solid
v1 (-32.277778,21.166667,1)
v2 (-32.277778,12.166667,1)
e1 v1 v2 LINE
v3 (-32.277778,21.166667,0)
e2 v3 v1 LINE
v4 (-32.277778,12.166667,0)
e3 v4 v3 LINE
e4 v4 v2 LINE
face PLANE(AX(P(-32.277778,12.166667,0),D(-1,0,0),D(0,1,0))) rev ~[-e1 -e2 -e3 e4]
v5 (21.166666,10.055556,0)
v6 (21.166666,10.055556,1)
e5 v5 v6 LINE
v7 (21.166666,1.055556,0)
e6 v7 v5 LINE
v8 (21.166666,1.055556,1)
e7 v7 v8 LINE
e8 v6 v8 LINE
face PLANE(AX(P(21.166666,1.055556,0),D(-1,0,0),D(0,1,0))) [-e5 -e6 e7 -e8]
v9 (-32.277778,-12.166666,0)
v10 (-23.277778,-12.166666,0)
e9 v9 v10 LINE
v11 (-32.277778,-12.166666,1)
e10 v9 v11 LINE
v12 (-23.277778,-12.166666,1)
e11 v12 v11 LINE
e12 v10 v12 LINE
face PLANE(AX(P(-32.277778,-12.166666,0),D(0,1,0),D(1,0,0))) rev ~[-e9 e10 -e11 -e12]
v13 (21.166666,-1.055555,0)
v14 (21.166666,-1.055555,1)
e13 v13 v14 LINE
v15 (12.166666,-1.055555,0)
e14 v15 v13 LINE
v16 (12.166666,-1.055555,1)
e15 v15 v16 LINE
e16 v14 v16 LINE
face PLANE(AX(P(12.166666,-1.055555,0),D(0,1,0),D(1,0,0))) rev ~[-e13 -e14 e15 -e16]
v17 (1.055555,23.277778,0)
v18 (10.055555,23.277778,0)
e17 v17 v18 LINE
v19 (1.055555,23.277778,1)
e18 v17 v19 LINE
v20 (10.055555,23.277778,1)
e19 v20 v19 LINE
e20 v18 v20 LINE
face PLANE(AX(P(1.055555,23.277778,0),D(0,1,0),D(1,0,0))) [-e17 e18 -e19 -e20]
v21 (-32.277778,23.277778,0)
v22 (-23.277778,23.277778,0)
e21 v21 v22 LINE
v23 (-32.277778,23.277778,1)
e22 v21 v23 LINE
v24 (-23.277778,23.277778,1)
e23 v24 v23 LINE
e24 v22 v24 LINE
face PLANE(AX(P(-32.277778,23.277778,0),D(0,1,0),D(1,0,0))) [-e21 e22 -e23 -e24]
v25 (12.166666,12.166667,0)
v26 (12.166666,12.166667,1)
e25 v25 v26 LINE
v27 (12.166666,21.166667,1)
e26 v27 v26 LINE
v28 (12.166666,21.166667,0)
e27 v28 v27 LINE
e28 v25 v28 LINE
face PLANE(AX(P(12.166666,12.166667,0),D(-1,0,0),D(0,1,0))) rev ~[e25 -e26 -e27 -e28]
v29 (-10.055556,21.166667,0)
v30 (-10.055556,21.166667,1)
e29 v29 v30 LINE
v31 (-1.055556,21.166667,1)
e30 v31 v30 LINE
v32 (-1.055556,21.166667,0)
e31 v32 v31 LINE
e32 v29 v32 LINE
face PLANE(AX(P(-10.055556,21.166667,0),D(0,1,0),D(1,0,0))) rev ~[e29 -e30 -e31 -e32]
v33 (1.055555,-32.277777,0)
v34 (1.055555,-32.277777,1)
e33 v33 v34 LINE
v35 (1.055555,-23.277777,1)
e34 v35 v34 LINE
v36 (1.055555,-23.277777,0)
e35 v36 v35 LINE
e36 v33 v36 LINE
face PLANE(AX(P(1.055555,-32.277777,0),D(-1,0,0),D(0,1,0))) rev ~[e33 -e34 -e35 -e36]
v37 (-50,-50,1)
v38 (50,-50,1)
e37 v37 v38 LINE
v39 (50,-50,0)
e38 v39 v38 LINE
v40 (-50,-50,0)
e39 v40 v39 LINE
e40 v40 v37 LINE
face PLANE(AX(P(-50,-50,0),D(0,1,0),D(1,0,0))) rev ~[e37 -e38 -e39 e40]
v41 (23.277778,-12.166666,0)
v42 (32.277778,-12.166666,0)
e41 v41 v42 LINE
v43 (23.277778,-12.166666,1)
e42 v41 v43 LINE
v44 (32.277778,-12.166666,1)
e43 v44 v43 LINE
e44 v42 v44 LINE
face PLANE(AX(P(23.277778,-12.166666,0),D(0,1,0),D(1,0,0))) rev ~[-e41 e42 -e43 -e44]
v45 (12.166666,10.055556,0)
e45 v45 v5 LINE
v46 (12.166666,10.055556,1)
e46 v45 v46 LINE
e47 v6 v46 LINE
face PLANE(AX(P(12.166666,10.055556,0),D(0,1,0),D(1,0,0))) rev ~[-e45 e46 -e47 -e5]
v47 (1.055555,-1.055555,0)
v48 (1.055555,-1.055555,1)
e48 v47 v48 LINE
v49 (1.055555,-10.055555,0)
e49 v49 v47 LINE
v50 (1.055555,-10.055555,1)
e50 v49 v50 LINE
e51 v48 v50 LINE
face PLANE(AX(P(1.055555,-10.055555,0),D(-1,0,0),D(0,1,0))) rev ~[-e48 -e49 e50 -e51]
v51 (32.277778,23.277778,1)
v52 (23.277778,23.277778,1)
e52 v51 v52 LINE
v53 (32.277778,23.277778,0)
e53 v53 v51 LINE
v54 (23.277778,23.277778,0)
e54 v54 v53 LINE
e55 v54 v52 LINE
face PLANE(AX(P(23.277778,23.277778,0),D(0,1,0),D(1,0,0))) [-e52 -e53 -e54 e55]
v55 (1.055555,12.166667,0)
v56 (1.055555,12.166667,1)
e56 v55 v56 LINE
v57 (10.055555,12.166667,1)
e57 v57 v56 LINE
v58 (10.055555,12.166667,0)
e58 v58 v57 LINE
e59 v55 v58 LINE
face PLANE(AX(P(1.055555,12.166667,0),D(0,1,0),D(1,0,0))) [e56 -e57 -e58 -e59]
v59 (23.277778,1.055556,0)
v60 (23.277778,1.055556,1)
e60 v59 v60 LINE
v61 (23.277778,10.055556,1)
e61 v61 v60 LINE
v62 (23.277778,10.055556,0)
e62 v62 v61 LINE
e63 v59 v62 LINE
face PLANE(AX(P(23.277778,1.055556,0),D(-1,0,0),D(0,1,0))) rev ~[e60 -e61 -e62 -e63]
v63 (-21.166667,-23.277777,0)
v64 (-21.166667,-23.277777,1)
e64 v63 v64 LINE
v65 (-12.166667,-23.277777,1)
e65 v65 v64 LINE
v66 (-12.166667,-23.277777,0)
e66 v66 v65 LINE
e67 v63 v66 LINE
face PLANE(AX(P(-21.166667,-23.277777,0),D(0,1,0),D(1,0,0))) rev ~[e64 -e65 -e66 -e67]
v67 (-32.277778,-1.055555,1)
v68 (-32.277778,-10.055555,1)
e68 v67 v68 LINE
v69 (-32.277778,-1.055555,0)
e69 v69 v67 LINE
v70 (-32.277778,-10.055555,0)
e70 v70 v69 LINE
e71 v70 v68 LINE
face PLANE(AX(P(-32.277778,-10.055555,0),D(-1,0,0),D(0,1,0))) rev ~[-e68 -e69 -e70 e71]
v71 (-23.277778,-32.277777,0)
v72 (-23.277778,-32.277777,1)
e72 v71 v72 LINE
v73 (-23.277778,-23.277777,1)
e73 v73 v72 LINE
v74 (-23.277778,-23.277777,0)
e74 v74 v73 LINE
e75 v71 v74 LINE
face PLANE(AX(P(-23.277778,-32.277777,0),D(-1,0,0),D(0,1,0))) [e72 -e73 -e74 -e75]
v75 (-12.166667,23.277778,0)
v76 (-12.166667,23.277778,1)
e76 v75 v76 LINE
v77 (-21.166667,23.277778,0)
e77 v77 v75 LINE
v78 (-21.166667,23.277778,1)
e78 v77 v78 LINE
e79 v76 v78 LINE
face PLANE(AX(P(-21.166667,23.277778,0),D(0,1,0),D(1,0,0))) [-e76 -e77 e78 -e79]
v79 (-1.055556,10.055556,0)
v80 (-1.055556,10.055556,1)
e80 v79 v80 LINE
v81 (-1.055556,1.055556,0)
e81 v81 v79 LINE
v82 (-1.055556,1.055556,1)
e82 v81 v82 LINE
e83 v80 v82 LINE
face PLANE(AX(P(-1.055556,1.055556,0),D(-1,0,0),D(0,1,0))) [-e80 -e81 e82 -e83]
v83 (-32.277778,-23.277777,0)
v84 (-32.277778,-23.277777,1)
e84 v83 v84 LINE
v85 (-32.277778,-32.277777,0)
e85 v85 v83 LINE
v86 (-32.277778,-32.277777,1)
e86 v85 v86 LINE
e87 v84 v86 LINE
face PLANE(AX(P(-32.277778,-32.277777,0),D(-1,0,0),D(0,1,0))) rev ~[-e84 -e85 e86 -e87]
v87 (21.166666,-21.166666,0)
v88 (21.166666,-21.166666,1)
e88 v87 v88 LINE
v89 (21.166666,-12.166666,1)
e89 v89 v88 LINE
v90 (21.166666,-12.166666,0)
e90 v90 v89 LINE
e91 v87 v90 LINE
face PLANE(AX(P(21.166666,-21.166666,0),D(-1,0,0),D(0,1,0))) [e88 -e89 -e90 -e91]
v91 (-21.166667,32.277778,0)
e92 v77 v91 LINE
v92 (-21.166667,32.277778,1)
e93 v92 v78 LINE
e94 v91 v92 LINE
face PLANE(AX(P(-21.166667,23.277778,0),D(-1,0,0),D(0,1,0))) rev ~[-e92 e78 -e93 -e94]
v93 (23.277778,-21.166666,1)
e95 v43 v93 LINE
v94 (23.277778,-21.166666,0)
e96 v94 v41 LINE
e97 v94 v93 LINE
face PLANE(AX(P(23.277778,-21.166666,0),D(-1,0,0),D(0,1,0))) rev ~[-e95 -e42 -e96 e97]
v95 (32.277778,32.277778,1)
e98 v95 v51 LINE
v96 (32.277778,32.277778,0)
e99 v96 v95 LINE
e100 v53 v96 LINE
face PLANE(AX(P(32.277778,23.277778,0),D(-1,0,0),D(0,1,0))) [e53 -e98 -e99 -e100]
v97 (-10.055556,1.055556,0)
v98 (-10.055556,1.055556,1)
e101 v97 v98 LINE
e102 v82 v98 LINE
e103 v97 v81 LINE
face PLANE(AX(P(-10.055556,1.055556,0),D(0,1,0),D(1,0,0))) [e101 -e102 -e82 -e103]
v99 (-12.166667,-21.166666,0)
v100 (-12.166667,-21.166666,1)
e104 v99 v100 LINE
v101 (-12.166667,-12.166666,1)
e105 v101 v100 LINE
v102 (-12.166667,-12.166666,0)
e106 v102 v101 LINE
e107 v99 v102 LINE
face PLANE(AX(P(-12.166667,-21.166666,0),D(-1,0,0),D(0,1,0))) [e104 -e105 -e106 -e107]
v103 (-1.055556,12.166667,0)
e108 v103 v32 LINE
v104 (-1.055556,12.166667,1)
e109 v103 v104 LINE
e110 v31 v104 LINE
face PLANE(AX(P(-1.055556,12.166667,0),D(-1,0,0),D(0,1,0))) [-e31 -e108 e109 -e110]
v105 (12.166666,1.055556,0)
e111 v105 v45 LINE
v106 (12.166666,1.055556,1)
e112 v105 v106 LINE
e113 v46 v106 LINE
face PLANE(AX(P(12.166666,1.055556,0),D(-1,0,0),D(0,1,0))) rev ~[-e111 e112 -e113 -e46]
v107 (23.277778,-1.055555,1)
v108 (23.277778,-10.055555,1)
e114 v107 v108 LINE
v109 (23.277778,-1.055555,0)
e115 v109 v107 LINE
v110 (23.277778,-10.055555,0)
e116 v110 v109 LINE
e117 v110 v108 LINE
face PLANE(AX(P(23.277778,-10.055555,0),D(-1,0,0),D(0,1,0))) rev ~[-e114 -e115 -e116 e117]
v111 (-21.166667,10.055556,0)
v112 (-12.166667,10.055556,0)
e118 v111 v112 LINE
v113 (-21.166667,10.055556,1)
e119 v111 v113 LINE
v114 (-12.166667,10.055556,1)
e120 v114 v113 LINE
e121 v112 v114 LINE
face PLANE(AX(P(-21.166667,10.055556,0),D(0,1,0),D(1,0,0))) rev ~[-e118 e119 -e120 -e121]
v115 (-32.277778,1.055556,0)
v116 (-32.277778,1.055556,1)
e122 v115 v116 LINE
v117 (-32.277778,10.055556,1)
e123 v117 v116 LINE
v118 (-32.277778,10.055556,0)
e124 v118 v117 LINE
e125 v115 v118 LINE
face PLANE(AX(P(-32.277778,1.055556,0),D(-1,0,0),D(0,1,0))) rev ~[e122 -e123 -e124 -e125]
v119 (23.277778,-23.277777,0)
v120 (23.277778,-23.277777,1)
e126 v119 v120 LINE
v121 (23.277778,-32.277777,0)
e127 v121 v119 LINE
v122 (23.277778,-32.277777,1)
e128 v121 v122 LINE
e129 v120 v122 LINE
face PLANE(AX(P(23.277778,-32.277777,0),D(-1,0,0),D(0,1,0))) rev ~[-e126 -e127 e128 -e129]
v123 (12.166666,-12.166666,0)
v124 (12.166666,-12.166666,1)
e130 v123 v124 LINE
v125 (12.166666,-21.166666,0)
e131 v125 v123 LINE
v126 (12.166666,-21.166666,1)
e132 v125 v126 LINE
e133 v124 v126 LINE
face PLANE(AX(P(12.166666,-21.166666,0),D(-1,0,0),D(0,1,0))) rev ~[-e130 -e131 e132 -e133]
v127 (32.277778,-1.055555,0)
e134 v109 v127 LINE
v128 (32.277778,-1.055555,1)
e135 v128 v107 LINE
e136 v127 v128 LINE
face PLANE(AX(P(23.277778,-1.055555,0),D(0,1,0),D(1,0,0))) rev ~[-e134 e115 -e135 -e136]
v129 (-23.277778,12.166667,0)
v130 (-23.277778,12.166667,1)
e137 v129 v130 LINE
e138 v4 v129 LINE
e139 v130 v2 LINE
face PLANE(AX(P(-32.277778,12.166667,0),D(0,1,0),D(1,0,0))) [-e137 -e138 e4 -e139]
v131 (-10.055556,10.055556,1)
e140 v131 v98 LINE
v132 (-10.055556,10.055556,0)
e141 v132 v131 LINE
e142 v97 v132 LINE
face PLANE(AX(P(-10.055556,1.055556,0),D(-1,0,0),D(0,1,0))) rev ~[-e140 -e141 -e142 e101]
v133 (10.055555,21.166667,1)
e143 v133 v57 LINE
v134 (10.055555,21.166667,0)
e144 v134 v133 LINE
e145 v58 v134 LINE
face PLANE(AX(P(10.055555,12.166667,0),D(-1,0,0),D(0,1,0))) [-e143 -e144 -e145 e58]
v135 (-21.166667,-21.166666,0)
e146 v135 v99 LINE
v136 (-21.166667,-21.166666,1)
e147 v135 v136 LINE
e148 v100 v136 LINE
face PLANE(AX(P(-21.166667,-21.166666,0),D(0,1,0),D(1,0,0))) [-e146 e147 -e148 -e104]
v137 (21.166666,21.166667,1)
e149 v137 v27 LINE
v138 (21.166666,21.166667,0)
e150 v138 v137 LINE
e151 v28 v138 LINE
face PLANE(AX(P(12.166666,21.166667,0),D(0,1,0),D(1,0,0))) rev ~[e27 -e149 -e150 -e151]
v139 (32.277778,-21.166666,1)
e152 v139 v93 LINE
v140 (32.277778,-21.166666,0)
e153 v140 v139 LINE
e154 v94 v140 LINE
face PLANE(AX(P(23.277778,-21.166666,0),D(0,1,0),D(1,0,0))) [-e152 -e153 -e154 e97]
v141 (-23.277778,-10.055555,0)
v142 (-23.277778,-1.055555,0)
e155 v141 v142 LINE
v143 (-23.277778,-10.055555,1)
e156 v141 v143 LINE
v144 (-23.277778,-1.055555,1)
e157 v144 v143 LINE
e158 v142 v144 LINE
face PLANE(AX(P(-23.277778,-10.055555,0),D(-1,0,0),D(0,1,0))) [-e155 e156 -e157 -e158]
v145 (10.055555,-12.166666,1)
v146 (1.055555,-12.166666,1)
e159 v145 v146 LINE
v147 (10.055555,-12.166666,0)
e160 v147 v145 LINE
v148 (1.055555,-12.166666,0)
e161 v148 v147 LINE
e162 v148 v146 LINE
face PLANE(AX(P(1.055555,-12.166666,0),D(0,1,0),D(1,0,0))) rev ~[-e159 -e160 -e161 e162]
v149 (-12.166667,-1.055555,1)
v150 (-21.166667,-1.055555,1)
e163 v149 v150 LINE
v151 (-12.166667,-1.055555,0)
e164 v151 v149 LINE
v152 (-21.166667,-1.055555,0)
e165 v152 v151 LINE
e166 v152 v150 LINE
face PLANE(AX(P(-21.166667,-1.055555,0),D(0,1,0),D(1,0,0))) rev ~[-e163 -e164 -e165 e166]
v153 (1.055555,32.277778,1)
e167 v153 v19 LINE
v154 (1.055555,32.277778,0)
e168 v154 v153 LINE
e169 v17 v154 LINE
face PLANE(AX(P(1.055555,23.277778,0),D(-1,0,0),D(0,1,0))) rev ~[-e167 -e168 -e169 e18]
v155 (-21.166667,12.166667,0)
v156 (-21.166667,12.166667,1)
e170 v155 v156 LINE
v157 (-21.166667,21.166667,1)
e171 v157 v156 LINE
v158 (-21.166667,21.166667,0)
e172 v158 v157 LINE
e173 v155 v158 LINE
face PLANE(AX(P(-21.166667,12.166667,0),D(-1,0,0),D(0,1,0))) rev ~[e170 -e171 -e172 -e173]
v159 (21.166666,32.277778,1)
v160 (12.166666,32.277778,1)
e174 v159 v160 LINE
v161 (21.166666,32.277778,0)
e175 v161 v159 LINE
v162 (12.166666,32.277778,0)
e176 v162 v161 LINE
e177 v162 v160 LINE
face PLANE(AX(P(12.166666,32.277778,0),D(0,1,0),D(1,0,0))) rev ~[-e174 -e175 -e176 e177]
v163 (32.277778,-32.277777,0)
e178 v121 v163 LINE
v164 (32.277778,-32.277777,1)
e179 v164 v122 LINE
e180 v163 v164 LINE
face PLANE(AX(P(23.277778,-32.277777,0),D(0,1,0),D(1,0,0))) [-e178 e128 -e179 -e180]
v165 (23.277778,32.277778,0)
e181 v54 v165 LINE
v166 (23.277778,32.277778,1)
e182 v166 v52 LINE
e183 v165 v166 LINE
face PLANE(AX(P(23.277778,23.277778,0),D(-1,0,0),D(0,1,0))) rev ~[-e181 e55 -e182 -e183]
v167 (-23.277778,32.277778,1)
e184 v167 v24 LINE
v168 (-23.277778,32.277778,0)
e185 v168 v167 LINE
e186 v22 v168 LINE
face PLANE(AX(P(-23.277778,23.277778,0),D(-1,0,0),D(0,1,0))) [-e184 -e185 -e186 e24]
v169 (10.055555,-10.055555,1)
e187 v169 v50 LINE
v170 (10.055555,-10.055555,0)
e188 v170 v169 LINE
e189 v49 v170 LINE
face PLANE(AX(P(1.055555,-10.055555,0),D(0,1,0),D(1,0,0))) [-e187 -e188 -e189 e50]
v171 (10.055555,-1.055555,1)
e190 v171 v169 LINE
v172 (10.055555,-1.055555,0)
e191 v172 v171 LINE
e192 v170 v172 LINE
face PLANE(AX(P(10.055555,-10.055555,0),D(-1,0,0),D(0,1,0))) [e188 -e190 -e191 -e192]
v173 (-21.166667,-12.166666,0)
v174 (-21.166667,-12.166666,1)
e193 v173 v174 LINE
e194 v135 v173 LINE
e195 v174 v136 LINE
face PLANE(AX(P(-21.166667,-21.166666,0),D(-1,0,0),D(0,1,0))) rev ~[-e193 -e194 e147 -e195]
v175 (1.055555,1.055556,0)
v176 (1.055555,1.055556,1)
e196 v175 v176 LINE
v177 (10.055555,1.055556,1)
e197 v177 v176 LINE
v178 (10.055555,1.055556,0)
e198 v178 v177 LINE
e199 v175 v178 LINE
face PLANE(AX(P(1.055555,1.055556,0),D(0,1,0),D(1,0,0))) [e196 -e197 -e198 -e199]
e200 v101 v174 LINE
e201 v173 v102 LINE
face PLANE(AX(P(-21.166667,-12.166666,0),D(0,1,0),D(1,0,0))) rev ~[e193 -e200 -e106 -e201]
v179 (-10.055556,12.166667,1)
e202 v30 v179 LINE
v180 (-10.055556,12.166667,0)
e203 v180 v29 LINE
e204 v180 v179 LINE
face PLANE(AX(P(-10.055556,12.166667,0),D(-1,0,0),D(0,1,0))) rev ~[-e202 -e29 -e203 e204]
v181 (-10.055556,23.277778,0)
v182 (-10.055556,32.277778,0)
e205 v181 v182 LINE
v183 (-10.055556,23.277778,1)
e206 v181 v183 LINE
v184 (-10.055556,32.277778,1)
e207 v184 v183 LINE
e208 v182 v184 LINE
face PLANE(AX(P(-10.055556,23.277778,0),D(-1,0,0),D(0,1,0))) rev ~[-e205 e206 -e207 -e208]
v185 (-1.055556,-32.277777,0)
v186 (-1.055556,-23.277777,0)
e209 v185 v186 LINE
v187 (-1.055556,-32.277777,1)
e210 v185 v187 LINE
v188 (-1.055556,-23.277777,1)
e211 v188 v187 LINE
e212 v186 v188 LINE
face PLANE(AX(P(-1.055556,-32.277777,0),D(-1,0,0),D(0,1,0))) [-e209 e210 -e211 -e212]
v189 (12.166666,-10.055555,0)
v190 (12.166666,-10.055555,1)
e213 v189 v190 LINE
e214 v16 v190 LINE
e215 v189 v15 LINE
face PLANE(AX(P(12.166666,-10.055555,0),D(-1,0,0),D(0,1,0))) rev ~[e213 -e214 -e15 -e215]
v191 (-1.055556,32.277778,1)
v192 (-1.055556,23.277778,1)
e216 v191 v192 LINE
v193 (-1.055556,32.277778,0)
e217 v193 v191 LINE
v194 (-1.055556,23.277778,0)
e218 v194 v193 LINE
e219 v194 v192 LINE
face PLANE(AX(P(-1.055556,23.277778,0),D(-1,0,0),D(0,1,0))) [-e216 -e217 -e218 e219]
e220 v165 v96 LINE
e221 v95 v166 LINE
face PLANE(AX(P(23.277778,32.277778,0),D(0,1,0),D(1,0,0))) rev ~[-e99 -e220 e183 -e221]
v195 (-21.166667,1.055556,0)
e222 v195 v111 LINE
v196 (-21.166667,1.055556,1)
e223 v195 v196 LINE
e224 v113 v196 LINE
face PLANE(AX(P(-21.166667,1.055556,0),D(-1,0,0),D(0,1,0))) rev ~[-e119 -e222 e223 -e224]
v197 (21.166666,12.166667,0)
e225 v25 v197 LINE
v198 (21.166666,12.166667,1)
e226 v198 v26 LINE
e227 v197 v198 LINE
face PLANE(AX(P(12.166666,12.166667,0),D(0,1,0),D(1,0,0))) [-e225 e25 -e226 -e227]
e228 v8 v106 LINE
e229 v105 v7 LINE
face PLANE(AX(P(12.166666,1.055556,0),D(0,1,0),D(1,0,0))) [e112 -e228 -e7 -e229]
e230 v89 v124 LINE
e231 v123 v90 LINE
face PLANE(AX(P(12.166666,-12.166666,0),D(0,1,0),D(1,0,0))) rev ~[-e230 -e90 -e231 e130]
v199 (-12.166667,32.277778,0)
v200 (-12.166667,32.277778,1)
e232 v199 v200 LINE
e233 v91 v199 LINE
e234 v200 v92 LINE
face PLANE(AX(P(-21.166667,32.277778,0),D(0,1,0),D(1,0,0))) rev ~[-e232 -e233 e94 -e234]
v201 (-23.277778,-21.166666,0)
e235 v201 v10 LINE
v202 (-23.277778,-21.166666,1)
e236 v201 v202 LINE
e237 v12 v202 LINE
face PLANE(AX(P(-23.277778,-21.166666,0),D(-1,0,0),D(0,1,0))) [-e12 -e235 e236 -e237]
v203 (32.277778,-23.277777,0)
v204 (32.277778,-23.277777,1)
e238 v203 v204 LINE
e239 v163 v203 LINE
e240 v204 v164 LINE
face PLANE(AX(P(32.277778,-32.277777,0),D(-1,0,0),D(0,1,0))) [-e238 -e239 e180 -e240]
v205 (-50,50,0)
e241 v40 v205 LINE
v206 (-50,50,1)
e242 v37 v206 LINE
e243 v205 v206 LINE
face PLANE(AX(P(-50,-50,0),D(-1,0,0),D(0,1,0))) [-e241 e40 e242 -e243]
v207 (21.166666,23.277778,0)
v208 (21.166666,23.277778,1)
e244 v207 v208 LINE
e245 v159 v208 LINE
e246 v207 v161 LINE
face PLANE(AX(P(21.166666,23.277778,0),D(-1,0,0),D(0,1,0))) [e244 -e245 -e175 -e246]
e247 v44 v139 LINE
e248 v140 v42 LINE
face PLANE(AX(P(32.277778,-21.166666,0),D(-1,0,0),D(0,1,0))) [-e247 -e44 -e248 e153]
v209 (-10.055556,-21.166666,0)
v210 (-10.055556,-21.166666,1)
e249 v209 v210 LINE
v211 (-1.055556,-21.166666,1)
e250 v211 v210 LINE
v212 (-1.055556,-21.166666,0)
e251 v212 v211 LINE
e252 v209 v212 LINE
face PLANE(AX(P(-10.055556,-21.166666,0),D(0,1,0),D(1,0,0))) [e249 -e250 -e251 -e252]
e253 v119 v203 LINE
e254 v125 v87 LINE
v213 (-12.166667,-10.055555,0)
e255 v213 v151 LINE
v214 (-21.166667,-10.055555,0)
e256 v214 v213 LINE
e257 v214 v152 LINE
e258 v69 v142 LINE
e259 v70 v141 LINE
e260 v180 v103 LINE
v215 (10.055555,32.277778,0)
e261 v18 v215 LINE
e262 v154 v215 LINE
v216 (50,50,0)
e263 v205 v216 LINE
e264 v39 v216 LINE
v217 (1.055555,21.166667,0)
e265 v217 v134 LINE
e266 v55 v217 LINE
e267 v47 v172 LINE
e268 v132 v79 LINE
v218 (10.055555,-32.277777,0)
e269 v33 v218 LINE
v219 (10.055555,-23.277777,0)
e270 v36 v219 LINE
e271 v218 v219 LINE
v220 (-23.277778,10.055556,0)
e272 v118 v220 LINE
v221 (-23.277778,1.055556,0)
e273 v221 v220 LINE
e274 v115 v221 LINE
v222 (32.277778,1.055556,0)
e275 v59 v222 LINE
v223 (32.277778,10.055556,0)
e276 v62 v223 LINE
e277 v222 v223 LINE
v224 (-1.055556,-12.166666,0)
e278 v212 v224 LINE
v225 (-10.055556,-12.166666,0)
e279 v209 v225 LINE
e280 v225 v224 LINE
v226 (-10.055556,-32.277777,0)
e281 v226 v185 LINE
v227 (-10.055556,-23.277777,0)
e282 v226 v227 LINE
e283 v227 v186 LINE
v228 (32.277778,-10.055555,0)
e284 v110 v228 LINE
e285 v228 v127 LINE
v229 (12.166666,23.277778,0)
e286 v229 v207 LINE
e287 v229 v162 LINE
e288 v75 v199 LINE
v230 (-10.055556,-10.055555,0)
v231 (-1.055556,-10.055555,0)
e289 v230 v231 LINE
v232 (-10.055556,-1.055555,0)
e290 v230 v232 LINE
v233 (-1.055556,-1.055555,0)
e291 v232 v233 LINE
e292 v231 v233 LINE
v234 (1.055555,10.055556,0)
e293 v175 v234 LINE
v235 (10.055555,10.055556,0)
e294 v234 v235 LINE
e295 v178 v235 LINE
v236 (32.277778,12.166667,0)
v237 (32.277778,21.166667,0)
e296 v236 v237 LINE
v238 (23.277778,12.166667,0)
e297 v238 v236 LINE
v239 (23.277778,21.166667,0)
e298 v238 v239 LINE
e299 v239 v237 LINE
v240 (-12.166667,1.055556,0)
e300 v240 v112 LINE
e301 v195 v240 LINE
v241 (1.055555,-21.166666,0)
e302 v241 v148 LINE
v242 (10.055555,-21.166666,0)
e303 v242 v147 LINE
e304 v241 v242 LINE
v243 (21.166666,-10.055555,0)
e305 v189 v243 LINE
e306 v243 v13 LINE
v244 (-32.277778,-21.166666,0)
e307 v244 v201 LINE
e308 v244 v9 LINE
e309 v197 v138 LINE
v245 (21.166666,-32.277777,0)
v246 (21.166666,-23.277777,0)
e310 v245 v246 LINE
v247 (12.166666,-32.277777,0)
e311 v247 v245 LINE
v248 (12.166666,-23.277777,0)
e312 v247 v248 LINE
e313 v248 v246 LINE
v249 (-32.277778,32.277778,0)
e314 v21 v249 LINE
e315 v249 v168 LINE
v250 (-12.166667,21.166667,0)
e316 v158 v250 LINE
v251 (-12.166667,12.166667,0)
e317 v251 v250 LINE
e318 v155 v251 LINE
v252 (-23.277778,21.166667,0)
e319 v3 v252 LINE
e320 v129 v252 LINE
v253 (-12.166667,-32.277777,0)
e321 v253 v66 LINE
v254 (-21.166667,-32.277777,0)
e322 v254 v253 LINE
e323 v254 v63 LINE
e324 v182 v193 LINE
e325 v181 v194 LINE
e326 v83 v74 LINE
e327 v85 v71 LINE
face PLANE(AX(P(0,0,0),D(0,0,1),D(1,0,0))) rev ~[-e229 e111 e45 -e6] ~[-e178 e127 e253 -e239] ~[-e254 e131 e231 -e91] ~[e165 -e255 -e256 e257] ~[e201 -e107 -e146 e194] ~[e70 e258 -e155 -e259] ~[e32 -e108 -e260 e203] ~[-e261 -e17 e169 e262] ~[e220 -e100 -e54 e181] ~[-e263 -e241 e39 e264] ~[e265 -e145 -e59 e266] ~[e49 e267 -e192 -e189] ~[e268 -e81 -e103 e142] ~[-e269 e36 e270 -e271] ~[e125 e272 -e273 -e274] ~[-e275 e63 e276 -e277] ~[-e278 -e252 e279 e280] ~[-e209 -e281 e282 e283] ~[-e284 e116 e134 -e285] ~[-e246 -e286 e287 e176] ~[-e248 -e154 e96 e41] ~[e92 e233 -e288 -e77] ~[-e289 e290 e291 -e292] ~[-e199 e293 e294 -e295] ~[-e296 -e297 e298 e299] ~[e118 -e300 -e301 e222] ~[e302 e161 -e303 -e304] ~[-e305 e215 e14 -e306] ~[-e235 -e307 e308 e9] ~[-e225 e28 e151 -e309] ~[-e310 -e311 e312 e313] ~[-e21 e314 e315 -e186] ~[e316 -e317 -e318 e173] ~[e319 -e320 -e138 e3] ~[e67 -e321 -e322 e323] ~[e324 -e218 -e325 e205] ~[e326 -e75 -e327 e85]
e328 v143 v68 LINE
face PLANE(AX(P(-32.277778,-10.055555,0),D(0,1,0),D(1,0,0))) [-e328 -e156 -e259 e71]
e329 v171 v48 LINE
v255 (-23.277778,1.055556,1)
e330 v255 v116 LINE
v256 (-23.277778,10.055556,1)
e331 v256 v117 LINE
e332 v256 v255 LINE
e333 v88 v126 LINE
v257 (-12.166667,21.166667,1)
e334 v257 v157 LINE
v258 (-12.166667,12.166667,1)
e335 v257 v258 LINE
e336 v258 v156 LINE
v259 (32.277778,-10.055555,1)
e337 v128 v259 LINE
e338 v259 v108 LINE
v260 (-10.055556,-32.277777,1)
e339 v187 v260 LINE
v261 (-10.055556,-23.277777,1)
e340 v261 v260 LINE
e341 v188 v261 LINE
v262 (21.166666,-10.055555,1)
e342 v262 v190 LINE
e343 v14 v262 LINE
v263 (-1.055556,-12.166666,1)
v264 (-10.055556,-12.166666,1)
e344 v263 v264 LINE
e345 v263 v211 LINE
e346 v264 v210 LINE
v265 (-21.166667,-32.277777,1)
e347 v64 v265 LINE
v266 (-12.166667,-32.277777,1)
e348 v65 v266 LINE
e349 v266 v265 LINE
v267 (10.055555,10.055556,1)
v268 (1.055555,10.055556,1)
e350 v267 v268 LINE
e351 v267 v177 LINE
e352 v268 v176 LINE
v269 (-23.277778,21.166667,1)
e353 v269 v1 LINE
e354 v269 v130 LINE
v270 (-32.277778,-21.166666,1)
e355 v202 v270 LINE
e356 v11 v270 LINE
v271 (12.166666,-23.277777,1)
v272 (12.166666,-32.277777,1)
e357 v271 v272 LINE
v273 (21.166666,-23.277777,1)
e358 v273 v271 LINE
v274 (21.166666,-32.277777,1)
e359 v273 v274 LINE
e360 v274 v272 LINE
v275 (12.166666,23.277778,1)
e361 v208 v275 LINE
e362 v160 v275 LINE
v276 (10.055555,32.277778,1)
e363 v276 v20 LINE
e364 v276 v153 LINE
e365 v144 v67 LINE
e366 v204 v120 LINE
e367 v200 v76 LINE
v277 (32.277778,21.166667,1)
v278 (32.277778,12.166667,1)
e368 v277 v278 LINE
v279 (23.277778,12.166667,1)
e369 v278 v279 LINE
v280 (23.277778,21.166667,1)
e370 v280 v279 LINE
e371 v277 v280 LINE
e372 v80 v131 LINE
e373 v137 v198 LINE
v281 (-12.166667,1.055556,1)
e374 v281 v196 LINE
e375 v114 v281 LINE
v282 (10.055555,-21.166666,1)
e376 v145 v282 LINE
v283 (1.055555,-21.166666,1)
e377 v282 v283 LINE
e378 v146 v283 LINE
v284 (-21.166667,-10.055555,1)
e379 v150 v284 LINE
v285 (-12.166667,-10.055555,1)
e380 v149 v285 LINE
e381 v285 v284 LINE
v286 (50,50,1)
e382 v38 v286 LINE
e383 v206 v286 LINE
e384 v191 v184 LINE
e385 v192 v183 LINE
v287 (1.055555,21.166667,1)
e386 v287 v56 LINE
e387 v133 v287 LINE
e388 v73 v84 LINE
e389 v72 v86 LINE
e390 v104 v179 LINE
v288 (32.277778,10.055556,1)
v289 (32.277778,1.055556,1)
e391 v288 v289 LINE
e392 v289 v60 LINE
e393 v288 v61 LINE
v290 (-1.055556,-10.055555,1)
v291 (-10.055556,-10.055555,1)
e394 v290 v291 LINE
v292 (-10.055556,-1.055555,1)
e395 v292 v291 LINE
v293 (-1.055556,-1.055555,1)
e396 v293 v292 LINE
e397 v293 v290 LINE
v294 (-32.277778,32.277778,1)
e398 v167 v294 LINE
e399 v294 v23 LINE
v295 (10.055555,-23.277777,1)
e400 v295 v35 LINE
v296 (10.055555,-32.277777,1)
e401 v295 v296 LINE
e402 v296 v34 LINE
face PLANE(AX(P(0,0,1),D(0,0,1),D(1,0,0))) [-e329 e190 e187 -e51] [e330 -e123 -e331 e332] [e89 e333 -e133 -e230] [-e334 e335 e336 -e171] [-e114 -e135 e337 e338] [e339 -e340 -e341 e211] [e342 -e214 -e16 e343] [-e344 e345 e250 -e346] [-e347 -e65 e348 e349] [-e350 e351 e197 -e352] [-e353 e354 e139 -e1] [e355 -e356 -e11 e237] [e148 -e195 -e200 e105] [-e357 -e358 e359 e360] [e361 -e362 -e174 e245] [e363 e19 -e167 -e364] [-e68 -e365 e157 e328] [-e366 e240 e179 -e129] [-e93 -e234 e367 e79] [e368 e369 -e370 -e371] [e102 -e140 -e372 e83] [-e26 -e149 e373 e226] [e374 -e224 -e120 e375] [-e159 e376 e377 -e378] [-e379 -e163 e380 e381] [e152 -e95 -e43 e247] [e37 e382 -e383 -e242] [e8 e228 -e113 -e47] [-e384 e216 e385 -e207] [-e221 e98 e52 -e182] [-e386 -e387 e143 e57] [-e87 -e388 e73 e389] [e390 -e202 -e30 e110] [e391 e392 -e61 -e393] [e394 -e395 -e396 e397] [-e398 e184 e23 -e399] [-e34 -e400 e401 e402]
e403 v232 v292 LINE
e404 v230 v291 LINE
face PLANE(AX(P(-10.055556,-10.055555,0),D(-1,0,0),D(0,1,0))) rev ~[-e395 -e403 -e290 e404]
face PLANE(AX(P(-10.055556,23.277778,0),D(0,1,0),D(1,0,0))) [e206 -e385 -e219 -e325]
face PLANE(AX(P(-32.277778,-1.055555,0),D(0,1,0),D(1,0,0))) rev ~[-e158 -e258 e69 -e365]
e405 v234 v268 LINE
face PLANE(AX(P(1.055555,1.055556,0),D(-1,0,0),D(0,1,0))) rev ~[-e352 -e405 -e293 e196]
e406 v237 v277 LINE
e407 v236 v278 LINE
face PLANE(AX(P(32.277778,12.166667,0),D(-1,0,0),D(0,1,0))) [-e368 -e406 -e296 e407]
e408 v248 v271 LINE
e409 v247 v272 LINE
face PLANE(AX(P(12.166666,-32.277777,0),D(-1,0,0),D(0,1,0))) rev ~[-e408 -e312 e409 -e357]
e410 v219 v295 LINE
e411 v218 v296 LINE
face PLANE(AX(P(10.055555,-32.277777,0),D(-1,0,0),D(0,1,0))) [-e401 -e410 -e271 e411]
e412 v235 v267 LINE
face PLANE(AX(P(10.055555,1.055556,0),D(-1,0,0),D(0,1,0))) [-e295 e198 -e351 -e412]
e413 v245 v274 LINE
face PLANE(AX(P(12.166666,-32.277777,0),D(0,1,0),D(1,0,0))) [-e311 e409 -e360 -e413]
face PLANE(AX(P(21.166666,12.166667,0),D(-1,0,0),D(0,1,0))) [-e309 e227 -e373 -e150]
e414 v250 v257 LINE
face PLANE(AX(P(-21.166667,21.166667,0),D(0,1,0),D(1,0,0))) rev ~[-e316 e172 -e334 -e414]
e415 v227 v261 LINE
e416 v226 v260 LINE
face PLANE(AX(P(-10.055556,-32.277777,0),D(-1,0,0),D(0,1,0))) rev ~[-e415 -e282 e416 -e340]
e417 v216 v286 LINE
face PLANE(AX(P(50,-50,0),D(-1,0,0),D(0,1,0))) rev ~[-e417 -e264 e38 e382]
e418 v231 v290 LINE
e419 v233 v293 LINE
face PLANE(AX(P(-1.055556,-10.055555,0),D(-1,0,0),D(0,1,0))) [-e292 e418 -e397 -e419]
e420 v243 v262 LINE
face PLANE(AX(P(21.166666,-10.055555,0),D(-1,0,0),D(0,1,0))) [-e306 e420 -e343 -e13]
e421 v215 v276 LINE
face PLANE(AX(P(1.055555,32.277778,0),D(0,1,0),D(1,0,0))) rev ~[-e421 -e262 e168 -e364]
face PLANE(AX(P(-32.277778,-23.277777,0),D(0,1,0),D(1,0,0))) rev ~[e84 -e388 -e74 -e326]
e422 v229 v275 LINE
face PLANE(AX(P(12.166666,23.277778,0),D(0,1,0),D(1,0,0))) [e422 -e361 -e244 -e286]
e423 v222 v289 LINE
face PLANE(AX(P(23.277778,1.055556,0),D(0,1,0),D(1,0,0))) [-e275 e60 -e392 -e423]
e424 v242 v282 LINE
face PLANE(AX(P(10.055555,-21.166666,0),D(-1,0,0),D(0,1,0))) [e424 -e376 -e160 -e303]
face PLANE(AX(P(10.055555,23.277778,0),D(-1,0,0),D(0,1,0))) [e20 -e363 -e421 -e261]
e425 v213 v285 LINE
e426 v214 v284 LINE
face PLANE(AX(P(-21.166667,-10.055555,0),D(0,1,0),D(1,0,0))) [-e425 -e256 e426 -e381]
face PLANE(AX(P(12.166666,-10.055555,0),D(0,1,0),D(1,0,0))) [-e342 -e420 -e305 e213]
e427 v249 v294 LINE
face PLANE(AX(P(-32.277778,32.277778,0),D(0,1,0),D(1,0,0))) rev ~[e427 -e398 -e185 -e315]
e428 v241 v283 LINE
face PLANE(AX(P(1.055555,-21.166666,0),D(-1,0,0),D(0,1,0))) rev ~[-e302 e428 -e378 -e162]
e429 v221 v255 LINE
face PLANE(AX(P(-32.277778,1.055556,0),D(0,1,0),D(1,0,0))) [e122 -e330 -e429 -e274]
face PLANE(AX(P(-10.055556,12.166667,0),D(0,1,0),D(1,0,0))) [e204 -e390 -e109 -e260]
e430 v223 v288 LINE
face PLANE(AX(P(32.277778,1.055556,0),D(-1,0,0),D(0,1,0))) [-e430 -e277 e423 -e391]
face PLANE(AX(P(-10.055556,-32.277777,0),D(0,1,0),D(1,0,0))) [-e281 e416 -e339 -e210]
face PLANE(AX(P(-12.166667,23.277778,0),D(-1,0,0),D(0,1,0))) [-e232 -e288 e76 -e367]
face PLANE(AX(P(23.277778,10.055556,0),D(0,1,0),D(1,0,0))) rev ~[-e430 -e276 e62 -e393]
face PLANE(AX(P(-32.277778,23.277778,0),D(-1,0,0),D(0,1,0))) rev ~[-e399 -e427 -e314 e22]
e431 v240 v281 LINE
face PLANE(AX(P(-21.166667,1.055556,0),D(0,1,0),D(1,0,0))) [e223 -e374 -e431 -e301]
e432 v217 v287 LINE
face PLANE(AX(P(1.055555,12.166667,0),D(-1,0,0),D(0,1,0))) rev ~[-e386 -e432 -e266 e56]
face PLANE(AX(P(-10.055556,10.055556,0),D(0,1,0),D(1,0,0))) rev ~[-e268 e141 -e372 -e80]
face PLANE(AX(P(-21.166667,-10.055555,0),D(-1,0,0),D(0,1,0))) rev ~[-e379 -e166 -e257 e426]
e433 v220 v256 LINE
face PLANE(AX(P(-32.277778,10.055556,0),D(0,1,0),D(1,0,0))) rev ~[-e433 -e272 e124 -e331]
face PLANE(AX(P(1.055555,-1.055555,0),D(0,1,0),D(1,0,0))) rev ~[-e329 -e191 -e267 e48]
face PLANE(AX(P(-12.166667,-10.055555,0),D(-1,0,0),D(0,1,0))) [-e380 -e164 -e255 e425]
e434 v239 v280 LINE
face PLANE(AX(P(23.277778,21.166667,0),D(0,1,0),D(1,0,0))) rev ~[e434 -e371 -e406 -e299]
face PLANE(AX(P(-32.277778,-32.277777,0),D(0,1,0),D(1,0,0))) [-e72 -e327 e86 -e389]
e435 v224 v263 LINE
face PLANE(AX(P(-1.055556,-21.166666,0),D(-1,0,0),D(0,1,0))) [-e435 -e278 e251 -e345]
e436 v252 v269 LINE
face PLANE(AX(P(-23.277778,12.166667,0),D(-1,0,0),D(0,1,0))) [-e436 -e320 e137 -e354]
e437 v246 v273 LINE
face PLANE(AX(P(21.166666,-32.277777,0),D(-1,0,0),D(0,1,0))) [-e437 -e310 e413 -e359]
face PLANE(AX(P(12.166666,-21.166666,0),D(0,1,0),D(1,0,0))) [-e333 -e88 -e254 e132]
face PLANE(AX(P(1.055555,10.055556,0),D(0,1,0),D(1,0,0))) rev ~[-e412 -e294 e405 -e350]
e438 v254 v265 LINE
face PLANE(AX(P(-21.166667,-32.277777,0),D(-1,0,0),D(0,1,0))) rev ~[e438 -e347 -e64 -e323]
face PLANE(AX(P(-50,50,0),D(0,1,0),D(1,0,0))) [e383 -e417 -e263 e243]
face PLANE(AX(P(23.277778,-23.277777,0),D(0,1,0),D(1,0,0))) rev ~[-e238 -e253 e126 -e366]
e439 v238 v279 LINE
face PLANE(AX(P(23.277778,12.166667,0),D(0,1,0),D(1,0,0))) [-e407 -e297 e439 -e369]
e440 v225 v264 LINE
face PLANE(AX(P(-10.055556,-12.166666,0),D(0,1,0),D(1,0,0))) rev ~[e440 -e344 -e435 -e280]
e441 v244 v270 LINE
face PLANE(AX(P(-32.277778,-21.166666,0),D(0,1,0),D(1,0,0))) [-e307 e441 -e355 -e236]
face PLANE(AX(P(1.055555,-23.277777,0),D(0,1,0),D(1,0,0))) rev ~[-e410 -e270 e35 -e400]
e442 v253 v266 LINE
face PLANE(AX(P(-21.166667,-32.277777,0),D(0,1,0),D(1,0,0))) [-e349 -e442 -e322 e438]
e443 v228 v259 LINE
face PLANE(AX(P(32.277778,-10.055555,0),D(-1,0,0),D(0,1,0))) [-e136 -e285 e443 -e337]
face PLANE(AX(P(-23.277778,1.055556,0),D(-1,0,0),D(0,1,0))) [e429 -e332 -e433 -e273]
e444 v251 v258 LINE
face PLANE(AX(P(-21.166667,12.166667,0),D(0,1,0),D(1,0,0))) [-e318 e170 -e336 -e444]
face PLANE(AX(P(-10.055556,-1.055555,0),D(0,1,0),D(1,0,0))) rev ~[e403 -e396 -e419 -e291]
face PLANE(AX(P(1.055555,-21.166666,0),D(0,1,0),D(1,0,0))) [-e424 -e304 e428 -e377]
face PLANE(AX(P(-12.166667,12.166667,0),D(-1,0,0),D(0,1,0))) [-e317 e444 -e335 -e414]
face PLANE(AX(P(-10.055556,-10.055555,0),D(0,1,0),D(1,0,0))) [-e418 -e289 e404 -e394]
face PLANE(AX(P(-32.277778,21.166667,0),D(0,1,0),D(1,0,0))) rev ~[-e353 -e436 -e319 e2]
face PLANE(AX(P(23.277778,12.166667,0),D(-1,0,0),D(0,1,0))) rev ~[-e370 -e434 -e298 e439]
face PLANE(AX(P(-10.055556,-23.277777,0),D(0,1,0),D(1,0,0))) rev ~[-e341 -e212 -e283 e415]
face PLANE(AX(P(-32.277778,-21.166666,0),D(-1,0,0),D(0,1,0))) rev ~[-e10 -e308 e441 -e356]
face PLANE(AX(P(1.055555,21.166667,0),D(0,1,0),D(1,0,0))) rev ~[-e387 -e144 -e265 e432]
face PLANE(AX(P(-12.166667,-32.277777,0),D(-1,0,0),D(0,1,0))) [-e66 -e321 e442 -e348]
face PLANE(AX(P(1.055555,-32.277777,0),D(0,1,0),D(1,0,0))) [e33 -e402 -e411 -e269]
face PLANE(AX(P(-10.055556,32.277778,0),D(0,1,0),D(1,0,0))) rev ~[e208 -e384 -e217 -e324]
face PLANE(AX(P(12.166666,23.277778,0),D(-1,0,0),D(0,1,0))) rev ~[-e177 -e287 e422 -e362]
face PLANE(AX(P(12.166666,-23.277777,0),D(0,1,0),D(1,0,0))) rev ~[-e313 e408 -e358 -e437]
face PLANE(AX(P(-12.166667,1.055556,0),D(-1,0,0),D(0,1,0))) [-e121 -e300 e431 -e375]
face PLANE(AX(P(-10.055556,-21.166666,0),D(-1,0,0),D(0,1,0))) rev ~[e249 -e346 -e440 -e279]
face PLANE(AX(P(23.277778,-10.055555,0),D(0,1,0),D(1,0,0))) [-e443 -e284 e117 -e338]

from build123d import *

# Parameters (mm, degrees)
SKETCH050_W                        = 100
SKETCH050_H                        = 100
PAD019_DEPTH                       = 1
SKETCH051_W                        = 9
SKETCH051_H                        = 9
POCKET012_DEPTH                    = 283.850783
SKETCH051_LINEARPATTERN002_2_W     = 9
SKETCH051_LINEARPATTERN002_2_H     = 9
POCKET012_LINEARPATTERN002_2_DEPTH = 283.850783
SKETCH051_LINEARPATTERN002_3_W     = 9
SKETCH051_LINEARPATTERN002_3_H     = 9
POCKET012_LINEARPATTERN002_3_DEPTH = 283.850783
SKETCH051_LINEARPATTERN002_4_W     = 9
SKETCH051_LINEARPATTERN002_4_H     = 9
POCKET012_LINEARPATTERN002_4_DEPTH = 283.850783
SKETCH051_LINEARPATTERN002_5_W     = 9
SKETCH051_LINEARPATTERN002_5_H     = 9
POCKET012_LINEARPATTERN002_5_DEPTH = 283.850783
SKETCH051_LINEARPATTERN002_6_W     = 9
SKETCH051_LINEARPATTERN002_6_H     = 9
POCKET012_LINEARPATTERN002_6_DEPTH = 283.850783
LINEARPATTERN003_COUNT             = 6
LINEARPATTERN003_PITCH             = 11.111111


with BuildPart() as part:
    # Sketch050 → Pad019 (new body)
    with BuildSketch(Plane.XY):
        Rectangle(SKETCH050_W, SKETCH050_H)
    extrude(amount=PAD019_DEPTH)

    # Sketch051 → Pocket012 (cut, through all)
    with BuildSketch(Plane.XY):
        with Locations((-27.777778, 27.777778)):
            Rectangle(SKETCH051_W, SKETCH051_H)
    pocket012 = extrude(amount=POCKET012_DEPTH, mode=Mode.SUBTRACT)

    # Sketch051 LinearPattern002 2 → Pocket012 LinearPattern002 2 (cut, through all)
    with BuildSketch(Plane(origin=(11.111111, 0, 0), x_dir=(1, 0, 0), z_dir=(0, 0, 1))):
        with Locations((-27.777778, 27.777778)):
            Rectangle(SKETCH051_LINEARPATTERN002_2_W, SKETCH051_LINEARPATTERN002_2_H)
    pocket012_linearpattern002_2 = extrude(amount=POCKET012_LINEARPATTERN002_2_DEPTH, mode=Mode.SUBTRACT)

    # Sketch051 LinearPattern002 3 → Pocket012 LinearPattern002 3 (cut, through all)
    with BuildSketch(Plane(origin=(22.222222, 0, 0), x_dir=(1, 0, 0), z_dir=(0, 0, 1))):
        with Locations((-27.777778, 27.777778)):
            Rectangle(SKETCH051_LINEARPATTERN002_3_W, SKETCH051_LINEARPATTERN002_3_H)
    pocket012_linearpattern002_3 = extrude(amount=POCKET012_LINEARPATTERN002_3_DEPTH, mode=Mode.SUBTRACT)

    # Sketch051 LinearPattern002 4 → Pocket012 LinearPattern002 4 (cut, through all)
    with BuildSketch(Plane(origin=(33.333333, 0, 0), x_dir=(1, 0, 0), z_dir=(0, 0, 1))):
        with Locations((-27.777778, 27.777778)):
            Rectangle(SKETCH051_LINEARPATTERN002_4_W, SKETCH051_LINEARPATTERN002_4_H)
    pocket012_linearpattern002_4 = extrude(amount=POCKET012_LINEARPATTERN002_4_DEPTH, mode=Mode.SUBTRACT)

    # Sketch051 LinearPattern002 5 → Pocket012 LinearPattern002 5 (cut, through all)
    with BuildSketch(Plane(origin=(44.444444, 0, 0), x_dir=(1, 0, 0), z_dir=(0, 0, 1))):
        with Locations((-27.777778, 27.777778)):
            Rectangle(SKETCH051_LINEARPATTERN002_5_W, SKETCH051_LINEARPATTERN002_5_H)
    pocket012_linearpattern002_5 = extrude(amount=POCKET012_LINEARPATTERN002_5_DEPTH, mode=Mode.SUBTRACT)

    # Sketch051 LinearPattern002 6 → Pocket012 LinearPattern002 6 (cut, through all)
    with BuildSketch(Plane(origin=(55.555556, 0, 0), x_dir=(1, 0, 0), z_dir=(0, 0, 1))):
        with Locations((-27.777778, 27.777778)):
            Rectangle(SKETCH051_LINEARPATTERN002_6_W, SKETCH051_LINEARPATTERN002_6_H)
    pocket012_linearpattern002_6 = extrude(amount=POCKET012_LINEARPATTERN002_6_DEPTH, mode=Mode.SUBTRACT)

    # LinearPattern003: Pocket012, Pocket012 LinearPattern002 2, Pocket012 LinearPattern002 3, Pocket012 LinearPattern002 4, Pocket012 LinearPattern002 5, Pocket012 LinearPattern002 6 ×6
    with Locations(*[(0, -i * LINEARPATTERN003_PITCH, 0) for i in range(1, LINEARPATTERN003_COUNT)]):
        add(pocket012, mode=Mode.SUBTRACT)
        add(pocket012_linearpattern002_2, mode=Mode.SUBTRACT)
        add(pocket012_linearpattern002_3, mode=Mode.SUBTRACT)
        add(pocket012_linearpattern002_4, mode=Mode.SUBTRACT)
        add(pocket012_linearpattern002_5, mode=Mode.SUBTRACT)
        add(pocket012_linearpattern002_6, mode=Mode.SUBTRACT)


solid = part.part
